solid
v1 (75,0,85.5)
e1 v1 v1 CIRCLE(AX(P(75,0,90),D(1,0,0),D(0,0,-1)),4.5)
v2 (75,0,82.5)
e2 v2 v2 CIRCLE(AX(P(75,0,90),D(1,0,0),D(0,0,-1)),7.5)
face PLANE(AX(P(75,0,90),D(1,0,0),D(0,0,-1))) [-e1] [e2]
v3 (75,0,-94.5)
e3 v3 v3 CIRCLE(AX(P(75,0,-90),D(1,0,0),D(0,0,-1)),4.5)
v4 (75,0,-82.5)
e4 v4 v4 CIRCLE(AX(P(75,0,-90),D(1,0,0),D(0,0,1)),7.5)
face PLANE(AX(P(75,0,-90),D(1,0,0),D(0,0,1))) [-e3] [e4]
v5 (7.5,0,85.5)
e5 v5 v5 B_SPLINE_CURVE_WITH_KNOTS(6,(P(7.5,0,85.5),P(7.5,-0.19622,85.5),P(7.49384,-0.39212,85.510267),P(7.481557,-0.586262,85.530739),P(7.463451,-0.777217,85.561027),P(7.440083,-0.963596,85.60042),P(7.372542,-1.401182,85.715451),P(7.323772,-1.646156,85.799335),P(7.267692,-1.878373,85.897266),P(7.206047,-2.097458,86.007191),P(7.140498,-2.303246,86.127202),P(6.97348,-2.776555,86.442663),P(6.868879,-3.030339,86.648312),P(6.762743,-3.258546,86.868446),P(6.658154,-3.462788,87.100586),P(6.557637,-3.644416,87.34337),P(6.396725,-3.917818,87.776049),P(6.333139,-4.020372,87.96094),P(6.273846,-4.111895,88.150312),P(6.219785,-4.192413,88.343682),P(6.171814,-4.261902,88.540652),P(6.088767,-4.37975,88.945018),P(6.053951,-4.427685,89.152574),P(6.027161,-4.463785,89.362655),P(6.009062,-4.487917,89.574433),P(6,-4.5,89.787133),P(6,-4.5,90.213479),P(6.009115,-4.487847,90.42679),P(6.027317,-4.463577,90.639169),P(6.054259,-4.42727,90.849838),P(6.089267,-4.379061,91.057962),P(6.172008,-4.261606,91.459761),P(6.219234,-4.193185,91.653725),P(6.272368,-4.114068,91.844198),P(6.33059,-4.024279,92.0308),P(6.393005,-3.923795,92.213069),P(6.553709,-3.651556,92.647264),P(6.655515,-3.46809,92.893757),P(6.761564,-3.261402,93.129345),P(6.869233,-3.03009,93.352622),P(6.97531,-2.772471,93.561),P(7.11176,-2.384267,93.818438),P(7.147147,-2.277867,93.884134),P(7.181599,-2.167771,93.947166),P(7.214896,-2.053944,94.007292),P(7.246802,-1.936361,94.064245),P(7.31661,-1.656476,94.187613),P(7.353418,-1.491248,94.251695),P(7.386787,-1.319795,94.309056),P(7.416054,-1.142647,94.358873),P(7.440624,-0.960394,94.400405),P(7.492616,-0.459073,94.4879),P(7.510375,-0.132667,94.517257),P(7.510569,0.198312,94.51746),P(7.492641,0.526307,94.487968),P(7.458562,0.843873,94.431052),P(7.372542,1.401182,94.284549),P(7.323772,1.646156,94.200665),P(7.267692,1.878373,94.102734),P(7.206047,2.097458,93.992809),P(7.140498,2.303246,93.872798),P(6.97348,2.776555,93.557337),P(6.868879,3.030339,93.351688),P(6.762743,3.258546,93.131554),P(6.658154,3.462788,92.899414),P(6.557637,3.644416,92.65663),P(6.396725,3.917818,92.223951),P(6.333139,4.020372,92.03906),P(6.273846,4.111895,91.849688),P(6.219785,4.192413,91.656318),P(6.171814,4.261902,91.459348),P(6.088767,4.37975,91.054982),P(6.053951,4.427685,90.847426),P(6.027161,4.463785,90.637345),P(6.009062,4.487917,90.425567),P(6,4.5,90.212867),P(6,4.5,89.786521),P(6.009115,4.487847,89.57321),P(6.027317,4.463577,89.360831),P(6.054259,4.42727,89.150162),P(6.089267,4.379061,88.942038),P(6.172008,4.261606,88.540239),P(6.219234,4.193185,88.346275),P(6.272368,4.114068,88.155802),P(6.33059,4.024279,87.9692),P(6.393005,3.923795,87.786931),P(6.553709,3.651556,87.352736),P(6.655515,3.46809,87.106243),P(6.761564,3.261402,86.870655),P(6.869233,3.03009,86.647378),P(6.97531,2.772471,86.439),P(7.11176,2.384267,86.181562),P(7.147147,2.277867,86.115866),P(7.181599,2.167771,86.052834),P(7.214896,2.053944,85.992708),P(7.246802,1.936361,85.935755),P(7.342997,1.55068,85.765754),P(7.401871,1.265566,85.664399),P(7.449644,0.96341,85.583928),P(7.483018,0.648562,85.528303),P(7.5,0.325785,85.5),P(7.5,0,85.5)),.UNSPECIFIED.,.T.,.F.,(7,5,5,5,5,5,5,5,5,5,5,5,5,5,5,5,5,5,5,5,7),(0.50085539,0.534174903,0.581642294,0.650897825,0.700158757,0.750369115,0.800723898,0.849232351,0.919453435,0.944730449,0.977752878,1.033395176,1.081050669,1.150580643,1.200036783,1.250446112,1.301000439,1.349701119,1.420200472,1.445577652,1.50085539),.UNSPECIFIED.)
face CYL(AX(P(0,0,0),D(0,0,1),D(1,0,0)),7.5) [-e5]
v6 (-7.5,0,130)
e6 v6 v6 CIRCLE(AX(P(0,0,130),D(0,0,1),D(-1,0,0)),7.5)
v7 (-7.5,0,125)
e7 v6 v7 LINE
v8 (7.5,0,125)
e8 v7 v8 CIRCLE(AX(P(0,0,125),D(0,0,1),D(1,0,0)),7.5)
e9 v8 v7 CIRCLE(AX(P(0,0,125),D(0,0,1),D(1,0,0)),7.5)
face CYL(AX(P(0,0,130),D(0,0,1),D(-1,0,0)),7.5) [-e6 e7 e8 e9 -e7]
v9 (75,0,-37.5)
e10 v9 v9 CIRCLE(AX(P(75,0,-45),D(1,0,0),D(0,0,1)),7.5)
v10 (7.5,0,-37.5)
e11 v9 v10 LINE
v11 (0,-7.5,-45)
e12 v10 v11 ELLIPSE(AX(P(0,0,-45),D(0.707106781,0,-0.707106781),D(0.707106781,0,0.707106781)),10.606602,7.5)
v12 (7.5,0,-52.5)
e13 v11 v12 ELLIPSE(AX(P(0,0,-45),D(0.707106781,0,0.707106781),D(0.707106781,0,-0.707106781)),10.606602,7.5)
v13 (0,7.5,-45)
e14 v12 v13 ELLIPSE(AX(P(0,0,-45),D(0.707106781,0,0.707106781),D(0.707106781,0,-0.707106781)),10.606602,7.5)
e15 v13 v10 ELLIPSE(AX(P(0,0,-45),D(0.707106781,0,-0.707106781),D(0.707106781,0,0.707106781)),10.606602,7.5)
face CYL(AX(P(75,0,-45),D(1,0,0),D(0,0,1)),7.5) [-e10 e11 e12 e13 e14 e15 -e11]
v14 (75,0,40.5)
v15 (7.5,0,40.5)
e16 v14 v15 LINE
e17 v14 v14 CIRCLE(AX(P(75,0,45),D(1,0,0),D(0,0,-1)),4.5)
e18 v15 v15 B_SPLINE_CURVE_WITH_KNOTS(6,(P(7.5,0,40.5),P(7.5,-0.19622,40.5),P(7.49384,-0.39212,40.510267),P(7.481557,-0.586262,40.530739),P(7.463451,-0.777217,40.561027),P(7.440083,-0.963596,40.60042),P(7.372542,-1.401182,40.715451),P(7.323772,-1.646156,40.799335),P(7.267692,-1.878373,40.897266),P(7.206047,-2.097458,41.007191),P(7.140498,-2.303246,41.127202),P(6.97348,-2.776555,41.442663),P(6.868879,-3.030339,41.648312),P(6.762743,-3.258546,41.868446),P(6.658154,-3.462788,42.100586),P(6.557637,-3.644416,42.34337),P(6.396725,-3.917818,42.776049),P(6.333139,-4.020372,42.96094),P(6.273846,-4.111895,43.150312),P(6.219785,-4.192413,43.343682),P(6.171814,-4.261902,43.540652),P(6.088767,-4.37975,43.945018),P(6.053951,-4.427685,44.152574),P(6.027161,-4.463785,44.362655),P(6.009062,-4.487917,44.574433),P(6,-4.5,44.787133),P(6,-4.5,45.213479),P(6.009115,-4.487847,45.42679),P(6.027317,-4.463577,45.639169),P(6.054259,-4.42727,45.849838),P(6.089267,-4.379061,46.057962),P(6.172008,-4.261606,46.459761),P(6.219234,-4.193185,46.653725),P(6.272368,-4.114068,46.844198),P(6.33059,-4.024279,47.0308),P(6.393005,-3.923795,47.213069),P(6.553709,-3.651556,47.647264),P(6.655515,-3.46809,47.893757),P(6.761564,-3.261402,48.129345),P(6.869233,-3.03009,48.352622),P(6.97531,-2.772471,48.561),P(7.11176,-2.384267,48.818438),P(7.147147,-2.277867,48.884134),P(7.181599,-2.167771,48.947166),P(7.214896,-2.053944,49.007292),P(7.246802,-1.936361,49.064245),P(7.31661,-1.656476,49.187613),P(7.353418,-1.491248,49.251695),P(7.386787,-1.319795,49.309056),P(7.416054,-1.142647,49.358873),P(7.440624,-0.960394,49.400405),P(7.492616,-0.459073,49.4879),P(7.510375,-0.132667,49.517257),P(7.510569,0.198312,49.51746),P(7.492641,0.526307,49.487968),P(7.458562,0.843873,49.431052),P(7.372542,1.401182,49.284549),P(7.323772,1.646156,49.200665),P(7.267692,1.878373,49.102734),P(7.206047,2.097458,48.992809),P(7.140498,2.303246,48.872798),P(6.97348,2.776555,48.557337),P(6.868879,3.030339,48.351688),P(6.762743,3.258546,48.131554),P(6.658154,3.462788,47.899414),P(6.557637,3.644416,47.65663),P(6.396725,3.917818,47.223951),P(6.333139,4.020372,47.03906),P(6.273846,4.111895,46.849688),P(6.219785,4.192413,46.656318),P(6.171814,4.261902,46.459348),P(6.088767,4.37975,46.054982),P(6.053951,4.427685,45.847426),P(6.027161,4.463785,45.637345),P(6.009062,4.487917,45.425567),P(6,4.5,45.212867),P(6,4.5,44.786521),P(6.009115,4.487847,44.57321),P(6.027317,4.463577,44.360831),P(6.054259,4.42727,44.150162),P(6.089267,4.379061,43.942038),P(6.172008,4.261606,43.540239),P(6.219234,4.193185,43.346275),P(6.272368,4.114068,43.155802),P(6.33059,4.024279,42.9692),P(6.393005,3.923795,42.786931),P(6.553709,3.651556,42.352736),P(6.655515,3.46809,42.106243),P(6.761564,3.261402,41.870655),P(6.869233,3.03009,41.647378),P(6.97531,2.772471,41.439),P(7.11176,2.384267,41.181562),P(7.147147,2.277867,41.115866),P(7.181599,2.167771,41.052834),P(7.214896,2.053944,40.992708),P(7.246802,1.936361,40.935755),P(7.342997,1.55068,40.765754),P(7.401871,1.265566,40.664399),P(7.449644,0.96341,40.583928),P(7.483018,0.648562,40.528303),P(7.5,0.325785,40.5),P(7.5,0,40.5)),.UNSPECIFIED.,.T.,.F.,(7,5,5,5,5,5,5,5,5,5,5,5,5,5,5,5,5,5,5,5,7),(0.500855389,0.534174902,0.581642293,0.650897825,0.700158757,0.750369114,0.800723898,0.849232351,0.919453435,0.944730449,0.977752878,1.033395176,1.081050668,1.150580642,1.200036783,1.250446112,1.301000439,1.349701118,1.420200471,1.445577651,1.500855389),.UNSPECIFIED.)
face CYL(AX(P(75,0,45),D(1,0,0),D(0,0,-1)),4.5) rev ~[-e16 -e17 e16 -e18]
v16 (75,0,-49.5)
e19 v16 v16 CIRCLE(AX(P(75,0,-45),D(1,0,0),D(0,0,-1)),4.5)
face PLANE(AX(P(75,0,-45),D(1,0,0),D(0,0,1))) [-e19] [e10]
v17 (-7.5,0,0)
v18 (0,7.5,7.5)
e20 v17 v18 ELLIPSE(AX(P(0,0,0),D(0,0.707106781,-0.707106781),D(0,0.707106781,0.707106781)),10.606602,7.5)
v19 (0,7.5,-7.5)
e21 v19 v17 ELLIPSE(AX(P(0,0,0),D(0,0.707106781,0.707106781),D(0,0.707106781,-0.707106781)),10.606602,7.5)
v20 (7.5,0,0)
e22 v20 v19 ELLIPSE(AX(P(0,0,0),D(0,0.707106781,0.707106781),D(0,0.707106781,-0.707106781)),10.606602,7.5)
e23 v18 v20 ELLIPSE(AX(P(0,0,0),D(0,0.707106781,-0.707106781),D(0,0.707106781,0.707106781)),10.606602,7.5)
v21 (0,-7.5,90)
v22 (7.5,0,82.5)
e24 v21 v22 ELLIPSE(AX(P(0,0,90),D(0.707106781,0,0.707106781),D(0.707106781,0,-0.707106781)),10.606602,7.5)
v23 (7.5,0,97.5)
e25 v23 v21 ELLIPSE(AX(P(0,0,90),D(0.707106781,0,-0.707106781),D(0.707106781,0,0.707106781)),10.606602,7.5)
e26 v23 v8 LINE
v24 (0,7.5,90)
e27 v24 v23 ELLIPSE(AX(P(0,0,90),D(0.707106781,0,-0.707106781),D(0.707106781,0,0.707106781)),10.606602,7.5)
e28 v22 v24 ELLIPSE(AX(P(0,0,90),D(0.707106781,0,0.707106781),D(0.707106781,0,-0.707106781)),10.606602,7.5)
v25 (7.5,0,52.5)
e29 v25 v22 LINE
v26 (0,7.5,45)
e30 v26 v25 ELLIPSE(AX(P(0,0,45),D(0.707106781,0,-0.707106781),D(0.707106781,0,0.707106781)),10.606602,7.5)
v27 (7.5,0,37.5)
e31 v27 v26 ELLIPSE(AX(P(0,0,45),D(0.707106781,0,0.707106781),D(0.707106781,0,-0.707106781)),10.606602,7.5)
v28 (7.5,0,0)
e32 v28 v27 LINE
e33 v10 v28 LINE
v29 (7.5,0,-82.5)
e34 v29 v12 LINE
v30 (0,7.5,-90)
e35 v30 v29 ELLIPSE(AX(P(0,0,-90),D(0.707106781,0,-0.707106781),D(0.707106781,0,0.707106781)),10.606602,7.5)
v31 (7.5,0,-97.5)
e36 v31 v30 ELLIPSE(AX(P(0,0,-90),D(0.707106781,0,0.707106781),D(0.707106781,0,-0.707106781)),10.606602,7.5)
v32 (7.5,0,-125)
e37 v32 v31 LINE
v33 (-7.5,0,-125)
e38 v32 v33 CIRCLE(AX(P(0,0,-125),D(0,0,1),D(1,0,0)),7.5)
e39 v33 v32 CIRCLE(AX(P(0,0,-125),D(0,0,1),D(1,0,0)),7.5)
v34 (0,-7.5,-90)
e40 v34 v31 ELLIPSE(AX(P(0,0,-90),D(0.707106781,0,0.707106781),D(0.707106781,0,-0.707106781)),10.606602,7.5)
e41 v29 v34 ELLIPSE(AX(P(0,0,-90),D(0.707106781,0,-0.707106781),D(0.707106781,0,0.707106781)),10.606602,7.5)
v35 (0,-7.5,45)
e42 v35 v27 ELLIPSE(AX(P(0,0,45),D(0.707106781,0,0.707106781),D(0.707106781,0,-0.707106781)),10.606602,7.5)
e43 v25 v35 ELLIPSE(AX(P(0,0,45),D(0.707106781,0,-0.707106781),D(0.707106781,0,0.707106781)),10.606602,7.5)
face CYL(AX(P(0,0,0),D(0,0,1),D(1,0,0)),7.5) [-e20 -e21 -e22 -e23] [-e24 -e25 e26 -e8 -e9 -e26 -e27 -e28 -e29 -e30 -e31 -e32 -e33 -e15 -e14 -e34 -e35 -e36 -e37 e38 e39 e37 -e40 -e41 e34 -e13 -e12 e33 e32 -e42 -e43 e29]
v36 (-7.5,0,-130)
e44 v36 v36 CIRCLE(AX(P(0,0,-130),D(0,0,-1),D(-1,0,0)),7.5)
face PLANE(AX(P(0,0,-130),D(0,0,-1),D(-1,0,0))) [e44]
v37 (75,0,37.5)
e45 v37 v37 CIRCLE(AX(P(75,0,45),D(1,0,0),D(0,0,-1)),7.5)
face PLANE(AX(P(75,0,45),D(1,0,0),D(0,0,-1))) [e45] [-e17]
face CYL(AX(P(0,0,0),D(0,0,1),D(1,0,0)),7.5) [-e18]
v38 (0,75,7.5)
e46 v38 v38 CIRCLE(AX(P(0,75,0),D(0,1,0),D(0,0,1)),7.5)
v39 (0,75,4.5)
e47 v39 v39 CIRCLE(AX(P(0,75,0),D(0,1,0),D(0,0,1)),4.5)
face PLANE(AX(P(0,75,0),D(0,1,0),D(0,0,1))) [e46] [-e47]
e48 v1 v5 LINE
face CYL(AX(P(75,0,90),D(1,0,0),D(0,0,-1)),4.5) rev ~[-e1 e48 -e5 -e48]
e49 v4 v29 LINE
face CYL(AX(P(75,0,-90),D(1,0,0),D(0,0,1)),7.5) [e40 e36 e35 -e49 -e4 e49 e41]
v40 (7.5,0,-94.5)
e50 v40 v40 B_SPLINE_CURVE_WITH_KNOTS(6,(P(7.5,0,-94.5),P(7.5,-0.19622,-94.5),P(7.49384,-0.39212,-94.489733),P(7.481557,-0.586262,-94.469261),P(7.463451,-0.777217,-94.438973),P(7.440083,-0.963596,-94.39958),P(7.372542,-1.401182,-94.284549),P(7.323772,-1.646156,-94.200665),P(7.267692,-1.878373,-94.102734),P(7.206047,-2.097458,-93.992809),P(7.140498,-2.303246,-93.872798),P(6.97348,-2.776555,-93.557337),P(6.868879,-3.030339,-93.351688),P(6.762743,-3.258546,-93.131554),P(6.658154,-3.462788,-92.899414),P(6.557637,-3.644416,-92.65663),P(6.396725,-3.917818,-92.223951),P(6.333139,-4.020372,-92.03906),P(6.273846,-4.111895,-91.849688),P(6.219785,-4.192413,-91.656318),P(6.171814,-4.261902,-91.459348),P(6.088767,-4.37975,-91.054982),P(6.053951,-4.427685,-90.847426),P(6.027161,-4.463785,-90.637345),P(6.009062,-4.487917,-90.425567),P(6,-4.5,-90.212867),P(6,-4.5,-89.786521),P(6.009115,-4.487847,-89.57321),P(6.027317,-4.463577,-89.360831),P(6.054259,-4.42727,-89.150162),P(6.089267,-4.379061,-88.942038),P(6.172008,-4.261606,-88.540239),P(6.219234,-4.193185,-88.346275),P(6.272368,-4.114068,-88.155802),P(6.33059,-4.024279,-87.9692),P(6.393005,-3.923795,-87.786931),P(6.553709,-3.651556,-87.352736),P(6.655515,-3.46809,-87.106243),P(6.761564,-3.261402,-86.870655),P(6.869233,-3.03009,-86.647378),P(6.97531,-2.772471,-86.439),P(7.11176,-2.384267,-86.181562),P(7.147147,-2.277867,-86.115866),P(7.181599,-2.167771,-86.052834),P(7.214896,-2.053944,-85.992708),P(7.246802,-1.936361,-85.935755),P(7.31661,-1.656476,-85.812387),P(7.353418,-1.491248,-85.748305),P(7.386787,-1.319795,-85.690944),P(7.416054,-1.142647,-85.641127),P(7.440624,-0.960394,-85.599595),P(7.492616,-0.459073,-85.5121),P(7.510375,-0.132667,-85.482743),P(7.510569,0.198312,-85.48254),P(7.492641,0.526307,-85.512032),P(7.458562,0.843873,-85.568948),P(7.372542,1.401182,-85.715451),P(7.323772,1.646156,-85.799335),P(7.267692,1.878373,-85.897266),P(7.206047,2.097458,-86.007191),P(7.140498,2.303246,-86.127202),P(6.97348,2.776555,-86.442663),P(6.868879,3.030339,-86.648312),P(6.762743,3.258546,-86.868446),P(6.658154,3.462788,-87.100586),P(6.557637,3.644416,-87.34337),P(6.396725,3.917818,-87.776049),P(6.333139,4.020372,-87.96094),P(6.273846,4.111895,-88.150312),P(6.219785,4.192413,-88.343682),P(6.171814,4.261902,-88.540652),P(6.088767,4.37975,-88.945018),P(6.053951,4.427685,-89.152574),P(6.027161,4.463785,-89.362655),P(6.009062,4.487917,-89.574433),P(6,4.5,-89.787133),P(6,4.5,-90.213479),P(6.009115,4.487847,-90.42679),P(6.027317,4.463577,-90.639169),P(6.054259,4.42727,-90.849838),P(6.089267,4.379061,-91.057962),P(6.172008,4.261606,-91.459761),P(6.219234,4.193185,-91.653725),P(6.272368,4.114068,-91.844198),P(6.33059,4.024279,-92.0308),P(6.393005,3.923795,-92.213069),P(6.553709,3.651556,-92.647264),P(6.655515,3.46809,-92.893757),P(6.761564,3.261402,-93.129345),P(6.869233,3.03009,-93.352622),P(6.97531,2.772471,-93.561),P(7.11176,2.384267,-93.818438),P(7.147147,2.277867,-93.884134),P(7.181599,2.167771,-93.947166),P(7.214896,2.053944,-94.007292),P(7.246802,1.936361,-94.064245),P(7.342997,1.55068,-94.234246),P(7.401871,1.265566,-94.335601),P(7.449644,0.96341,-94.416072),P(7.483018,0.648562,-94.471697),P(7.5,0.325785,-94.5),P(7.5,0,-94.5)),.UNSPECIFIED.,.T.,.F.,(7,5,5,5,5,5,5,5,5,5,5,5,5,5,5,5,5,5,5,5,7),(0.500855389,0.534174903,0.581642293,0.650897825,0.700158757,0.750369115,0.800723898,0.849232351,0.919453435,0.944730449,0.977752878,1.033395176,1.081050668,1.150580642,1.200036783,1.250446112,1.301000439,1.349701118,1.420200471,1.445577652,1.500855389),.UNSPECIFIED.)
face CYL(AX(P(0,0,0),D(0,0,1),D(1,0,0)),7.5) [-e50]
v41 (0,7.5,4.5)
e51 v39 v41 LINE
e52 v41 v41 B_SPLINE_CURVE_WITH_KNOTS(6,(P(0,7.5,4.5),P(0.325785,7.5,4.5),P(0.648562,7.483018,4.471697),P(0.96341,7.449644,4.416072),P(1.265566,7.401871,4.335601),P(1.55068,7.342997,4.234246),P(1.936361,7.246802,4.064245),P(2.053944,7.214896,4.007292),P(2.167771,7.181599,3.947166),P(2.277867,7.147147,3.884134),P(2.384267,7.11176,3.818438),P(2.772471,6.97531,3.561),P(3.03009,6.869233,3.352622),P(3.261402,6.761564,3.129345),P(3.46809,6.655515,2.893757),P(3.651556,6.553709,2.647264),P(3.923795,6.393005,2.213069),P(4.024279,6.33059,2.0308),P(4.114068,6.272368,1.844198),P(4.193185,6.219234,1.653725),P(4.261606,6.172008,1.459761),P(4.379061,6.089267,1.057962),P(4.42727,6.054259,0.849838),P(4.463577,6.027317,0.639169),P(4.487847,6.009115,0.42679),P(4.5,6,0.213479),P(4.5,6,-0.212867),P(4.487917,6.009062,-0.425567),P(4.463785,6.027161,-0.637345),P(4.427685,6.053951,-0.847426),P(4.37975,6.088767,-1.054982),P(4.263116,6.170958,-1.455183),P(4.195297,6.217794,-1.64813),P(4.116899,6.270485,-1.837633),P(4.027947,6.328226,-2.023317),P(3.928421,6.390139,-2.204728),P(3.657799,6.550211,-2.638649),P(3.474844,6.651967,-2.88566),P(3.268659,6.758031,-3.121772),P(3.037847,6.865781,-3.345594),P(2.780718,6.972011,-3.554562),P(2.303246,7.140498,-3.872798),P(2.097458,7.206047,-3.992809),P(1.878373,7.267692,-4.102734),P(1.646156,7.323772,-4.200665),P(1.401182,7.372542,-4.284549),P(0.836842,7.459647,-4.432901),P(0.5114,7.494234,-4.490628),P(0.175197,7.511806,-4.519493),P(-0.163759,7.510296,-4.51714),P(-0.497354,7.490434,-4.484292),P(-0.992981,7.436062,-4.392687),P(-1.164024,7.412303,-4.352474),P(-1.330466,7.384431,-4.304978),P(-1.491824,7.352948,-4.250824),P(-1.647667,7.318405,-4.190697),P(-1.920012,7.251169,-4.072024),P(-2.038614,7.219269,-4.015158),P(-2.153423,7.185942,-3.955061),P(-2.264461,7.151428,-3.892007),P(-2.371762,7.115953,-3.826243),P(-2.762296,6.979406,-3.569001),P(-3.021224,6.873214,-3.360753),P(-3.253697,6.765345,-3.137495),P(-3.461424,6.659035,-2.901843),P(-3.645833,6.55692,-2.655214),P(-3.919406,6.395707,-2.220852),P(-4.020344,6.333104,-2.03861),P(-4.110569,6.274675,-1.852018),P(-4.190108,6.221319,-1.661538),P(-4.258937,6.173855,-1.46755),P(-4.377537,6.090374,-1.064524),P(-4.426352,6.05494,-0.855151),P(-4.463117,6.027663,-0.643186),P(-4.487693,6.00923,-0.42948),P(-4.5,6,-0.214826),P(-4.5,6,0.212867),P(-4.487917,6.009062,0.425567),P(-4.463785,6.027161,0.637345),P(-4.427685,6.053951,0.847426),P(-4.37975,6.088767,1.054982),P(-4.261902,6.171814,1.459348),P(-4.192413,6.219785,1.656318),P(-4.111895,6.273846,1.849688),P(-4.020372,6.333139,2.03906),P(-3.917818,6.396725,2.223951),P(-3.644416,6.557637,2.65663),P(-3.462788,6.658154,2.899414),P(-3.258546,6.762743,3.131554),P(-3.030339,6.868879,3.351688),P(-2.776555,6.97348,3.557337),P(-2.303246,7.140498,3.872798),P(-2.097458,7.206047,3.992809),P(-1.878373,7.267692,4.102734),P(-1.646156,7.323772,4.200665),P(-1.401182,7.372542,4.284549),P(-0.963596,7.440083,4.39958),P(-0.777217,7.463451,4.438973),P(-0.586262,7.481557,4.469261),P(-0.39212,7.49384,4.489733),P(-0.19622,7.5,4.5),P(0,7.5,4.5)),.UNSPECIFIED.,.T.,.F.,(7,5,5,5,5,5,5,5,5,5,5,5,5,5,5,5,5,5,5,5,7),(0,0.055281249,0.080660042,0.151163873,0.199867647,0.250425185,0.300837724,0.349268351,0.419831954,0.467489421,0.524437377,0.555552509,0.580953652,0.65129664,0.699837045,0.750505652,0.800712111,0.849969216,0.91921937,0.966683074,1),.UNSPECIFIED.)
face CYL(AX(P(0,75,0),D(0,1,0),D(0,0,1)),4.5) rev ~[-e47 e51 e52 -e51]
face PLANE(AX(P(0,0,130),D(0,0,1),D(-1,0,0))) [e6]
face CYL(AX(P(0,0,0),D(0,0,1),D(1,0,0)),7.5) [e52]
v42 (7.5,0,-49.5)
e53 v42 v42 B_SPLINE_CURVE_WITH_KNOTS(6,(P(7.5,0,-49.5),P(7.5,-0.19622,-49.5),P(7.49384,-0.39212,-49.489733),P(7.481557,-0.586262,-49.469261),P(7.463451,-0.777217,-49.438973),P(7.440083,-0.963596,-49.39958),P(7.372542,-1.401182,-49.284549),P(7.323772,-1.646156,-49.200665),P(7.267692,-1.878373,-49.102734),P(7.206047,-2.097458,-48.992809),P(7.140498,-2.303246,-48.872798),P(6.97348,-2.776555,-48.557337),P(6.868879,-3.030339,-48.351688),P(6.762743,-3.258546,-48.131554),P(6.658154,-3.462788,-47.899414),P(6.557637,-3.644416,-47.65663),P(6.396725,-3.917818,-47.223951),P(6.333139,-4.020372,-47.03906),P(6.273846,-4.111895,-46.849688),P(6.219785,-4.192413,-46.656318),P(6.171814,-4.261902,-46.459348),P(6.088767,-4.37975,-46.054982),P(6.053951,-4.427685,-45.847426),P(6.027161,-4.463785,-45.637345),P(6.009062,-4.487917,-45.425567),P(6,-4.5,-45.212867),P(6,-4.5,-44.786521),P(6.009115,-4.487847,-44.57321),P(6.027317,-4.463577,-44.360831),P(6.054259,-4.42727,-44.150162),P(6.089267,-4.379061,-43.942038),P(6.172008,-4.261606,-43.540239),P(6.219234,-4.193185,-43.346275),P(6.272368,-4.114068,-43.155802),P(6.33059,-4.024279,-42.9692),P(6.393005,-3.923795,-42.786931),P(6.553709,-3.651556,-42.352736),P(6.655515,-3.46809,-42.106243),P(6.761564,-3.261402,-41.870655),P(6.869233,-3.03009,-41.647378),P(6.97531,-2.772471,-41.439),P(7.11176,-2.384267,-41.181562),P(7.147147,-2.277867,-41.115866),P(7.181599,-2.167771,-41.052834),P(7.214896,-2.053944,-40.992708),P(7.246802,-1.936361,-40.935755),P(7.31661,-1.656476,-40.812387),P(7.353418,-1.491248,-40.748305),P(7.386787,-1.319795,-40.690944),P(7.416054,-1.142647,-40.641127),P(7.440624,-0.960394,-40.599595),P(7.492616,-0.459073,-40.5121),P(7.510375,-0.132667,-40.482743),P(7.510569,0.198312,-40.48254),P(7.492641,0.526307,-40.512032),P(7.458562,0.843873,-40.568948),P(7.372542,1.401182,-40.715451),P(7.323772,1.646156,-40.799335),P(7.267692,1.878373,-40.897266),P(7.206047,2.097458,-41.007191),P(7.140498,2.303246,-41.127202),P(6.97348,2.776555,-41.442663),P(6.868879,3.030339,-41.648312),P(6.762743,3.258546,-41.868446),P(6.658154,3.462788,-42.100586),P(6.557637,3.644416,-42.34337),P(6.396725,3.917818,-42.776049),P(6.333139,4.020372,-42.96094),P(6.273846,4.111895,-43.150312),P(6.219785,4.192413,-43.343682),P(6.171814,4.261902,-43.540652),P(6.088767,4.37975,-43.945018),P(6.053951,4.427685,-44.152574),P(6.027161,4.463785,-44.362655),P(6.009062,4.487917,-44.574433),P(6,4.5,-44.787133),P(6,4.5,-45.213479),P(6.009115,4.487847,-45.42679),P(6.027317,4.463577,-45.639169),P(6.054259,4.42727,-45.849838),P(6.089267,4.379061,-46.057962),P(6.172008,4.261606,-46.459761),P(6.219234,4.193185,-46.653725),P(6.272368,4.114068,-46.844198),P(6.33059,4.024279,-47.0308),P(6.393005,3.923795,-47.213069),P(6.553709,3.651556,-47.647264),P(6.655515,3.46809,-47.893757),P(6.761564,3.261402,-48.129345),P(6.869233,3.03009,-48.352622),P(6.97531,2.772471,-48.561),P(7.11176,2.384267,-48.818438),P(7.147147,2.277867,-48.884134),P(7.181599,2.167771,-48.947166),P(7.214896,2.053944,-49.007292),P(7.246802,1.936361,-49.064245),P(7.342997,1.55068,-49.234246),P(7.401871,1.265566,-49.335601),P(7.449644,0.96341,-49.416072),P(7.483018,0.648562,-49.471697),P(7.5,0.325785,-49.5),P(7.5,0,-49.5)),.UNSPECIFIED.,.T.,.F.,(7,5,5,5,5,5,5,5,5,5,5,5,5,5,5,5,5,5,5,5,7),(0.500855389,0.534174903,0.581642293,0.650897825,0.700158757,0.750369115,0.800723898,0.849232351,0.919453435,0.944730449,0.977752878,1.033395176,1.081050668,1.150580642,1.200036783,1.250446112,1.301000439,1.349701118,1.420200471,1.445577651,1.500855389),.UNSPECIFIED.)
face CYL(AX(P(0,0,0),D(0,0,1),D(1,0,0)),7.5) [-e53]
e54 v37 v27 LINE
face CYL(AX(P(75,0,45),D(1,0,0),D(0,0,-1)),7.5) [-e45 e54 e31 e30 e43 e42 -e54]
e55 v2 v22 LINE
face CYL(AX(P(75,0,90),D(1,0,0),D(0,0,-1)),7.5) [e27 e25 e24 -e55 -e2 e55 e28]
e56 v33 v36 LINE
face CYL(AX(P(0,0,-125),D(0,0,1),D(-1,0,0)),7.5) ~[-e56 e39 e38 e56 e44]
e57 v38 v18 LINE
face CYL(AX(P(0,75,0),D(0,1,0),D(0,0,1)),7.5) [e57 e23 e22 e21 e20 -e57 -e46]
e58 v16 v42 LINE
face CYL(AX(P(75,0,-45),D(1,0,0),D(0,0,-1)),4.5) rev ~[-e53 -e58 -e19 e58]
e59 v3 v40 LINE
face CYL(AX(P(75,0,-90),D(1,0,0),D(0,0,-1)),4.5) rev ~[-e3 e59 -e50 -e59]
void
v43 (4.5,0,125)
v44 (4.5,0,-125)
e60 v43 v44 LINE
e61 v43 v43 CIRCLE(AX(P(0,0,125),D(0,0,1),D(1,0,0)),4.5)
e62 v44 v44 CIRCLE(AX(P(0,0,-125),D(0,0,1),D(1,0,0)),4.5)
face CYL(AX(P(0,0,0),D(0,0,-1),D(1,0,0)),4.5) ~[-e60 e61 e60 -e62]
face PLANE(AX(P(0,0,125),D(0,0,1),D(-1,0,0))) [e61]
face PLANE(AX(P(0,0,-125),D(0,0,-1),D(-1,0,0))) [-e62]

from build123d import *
from build123d.topology import SkipClean

# Parameters (mm, degrees)
SKETCH_1_R           = 7.5
SKETCH_1_R_2         = 4.5
EXTRUDE_1_DEPTH      = 125
EXTRUDE_2_REACH      = 151.958
EXTRUDE_2_END_RADIUS = 7.5
SKETCH_2_R           = 7.5
SKETCH_2_R_2         = 4.5
EXTRUDE_3_REACH      = 169.5
EXTRUDE_3_END_RADIUS = 7.5
SKETCH_3_R           = 7.5
SKETCH_3_R_2         = 4.5
SKETCH_4_R           = 7.5
EXTRUDE_4_DEPTH      = 5
EXTRUDE_START        = 5
SKETCH_5_R           = 7.5
EXTRUDE_5_DEPTH      = 5


with BuildPart() as part:
    # 草图1 → 凸台-拉伸1 (new, symmetric)
    with BuildSketch(Plane.XY):
        Circle(SKETCH_1_R)
        Circle(SKETCH_1_R_2, mode=Mode.SUBTRACT)
    extrude(amount=EXTRUDE_1_DEPTH, both=True)

    # 凸台-拉伸2: up to this cylinder (the profile starts outside it)
    extrude_2_end = Plane(origin=(0, 0, -7.287868), z_dir=(0, 0, -1)) * Cylinder(EXTRUDE_2_END_RADIUS, 319.916, mode=Mode.PRIVATE)
    # 草图2 → 凸台-拉伸2 (add, up to the surface)
    with BuildSketch(Plane(origin=(0, 75, 0), x_dir=(1, 0, 0), z_dir=(0, 1, 0)), mode=Mode.PRIVATE) as extrude_2_sk1:
        with Locations(Location((0, 0, 0), (0, 0, 270))):
            Circle(SKETCH_2_R)
        with Locations(Location((0, 0, 0), (0, 0, 270))):
            Circle(SKETCH_2_R_2, mode=Mode.SUBTRACT)
    extrude_2_tool1 = extrude(extrude_2_sk1.sketch, amount=-EXTRUDE_2_REACH, mode=Mode.PRIVATE) - extrude_2_end
    add(extrude_2_tool1.solids().sort_by_distance((0, 75, -7.287868))[0])

    # 凸台-拉伸3: up to this cylinder (the profile starts outside it)
    extrude_3_end = Plane(origin=(0, 0, 0), z_dir=(0, 0, -1)) * Cylinder(EXTRUDE_3_END_RADIUS, 549.575736, mode=Mode.PRIVATE)
    # 草图3 → 凸台-拉伸3 (add, up to the surface)
    with BuildSketch(Plane(origin=(75, 0, 0), x_dir=(0, 0, -1), z_dir=(1, 0, 0)), mode=Mode.PRIVATE) as extrude_3_sk1:
        with Locations((-45, 0)):
            Circle(SKETCH_3_R)
        with Locations((-45, 0)):
            Circle(SKETCH_3_R_2, mode=Mode.SUBTRACT)
    extrude_3_tool1 = extrude(extrude_3_sk1.sketch, amount=-EXTRUDE_3_REACH, mode=Mode.PRIVATE) - extrude_3_end
    add(extrude_3_tool1.solids().sort_by_distance((75, 0, 52.287868))[0])
    # 草图3 → 凸台-拉伸3 (add, up to the surface)
    with BuildSketch(Plane(origin=(75, 0, 0), x_dir=(0, 0, -1), z_dir=(1, 0, 0)), mode=Mode.PRIVATE) as extrude_3_sk2:
        with Locations((-90, 0)):
            Circle(SKETCH_3_R)
        with Locations((-90, 0)):
            Circle(SKETCH_3_R_2, mode=Mode.SUBTRACT)
    extrude_3_tool2 = extrude(extrude_3_sk2.sketch, amount=-EXTRUDE_3_REACH, mode=Mode.PRIVATE) - extrude_3_end
    add(extrude_3_tool2.solids().sort_by_distance((75, 0, 97.287868))[0])
    # 草图3 → 凸台-拉伸3 (add, up to the surface)
    with BuildSketch(Plane(origin=(75, 0, 0), x_dir=(0, 0, -1), z_dir=(1, 0, 0)), mode=Mode.PRIVATE) as extrude_3_sk3:
        with Locations(Location((90, 0, 0), (0, 0, 180))):
            Circle(SKETCH_3_R)
        with Locations((90, 0)):
            Circle(SKETCH_3_R_2, mode=Mode.SUBTRACT)
    extrude_3_tool3 = extrude(extrude_3_sk3.sketch, amount=-EXTRUDE_3_REACH, mode=Mode.PRIVATE) - extrude_3_end
    add(extrude_3_tool3.solids().sort_by_distance((75, 0, -97.287868))[0])
    # 草图3 → 凸台-拉伸3 (add, up to the surface)
    with BuildSketch(Plane(origin=(75, 0, 0), x_dir=(0, 0, -1), z_dir=(1, 0, 0)), mode=Mode.PRIVATE) as extrude_3_sk4:
        with Locations(Location((45, 0, 0), (0, 0, 180))):
            Circle(SKETCH_3_R)
        with Locations((45, 0)):
            Circle(SKETCH_3_R_2, mode=Mode.SUBTRACT)
    extrude_3_tool4 = extrude(extrude_3_sk4.sketch, amount=-EXTRUDE_3_REACH, mode=Mode.PRIVATE) - extrude_3_end
    add(extrude_3_tool4.solids().sort_by_distance((75, 0, -52.287868))[0])

    # 草图4 → 凸台-拉伸4 (add)
    with SkipClean():  # the faces are left unmerged after this step: merging them gives an invalid solid
        with BuildSketch(Plane(origin=(0, 0, -125), x_dir=(-1, 0, 0), z_dir=(0, 0, -1))):
            Circle(SKETCH_4_R)
        extrude(amount=EXTRUDE_4_DEPTH)

    # 草图5 → 凸台-拉伸5 (add)
    with SkipClean():  # the faces are left unmerged after this step: merging them gives an invalid solid
        with BuildSketch(Plane.XY.offset(125).offset(EXTRUDE_START)):
            with Locations(Location((0, 0, 0), (0, 0, 180))):
                Circle(SKETCH_5_R)
        extrude(amount=-EXTRUDE_5_DEPTH)


solid = part.part
